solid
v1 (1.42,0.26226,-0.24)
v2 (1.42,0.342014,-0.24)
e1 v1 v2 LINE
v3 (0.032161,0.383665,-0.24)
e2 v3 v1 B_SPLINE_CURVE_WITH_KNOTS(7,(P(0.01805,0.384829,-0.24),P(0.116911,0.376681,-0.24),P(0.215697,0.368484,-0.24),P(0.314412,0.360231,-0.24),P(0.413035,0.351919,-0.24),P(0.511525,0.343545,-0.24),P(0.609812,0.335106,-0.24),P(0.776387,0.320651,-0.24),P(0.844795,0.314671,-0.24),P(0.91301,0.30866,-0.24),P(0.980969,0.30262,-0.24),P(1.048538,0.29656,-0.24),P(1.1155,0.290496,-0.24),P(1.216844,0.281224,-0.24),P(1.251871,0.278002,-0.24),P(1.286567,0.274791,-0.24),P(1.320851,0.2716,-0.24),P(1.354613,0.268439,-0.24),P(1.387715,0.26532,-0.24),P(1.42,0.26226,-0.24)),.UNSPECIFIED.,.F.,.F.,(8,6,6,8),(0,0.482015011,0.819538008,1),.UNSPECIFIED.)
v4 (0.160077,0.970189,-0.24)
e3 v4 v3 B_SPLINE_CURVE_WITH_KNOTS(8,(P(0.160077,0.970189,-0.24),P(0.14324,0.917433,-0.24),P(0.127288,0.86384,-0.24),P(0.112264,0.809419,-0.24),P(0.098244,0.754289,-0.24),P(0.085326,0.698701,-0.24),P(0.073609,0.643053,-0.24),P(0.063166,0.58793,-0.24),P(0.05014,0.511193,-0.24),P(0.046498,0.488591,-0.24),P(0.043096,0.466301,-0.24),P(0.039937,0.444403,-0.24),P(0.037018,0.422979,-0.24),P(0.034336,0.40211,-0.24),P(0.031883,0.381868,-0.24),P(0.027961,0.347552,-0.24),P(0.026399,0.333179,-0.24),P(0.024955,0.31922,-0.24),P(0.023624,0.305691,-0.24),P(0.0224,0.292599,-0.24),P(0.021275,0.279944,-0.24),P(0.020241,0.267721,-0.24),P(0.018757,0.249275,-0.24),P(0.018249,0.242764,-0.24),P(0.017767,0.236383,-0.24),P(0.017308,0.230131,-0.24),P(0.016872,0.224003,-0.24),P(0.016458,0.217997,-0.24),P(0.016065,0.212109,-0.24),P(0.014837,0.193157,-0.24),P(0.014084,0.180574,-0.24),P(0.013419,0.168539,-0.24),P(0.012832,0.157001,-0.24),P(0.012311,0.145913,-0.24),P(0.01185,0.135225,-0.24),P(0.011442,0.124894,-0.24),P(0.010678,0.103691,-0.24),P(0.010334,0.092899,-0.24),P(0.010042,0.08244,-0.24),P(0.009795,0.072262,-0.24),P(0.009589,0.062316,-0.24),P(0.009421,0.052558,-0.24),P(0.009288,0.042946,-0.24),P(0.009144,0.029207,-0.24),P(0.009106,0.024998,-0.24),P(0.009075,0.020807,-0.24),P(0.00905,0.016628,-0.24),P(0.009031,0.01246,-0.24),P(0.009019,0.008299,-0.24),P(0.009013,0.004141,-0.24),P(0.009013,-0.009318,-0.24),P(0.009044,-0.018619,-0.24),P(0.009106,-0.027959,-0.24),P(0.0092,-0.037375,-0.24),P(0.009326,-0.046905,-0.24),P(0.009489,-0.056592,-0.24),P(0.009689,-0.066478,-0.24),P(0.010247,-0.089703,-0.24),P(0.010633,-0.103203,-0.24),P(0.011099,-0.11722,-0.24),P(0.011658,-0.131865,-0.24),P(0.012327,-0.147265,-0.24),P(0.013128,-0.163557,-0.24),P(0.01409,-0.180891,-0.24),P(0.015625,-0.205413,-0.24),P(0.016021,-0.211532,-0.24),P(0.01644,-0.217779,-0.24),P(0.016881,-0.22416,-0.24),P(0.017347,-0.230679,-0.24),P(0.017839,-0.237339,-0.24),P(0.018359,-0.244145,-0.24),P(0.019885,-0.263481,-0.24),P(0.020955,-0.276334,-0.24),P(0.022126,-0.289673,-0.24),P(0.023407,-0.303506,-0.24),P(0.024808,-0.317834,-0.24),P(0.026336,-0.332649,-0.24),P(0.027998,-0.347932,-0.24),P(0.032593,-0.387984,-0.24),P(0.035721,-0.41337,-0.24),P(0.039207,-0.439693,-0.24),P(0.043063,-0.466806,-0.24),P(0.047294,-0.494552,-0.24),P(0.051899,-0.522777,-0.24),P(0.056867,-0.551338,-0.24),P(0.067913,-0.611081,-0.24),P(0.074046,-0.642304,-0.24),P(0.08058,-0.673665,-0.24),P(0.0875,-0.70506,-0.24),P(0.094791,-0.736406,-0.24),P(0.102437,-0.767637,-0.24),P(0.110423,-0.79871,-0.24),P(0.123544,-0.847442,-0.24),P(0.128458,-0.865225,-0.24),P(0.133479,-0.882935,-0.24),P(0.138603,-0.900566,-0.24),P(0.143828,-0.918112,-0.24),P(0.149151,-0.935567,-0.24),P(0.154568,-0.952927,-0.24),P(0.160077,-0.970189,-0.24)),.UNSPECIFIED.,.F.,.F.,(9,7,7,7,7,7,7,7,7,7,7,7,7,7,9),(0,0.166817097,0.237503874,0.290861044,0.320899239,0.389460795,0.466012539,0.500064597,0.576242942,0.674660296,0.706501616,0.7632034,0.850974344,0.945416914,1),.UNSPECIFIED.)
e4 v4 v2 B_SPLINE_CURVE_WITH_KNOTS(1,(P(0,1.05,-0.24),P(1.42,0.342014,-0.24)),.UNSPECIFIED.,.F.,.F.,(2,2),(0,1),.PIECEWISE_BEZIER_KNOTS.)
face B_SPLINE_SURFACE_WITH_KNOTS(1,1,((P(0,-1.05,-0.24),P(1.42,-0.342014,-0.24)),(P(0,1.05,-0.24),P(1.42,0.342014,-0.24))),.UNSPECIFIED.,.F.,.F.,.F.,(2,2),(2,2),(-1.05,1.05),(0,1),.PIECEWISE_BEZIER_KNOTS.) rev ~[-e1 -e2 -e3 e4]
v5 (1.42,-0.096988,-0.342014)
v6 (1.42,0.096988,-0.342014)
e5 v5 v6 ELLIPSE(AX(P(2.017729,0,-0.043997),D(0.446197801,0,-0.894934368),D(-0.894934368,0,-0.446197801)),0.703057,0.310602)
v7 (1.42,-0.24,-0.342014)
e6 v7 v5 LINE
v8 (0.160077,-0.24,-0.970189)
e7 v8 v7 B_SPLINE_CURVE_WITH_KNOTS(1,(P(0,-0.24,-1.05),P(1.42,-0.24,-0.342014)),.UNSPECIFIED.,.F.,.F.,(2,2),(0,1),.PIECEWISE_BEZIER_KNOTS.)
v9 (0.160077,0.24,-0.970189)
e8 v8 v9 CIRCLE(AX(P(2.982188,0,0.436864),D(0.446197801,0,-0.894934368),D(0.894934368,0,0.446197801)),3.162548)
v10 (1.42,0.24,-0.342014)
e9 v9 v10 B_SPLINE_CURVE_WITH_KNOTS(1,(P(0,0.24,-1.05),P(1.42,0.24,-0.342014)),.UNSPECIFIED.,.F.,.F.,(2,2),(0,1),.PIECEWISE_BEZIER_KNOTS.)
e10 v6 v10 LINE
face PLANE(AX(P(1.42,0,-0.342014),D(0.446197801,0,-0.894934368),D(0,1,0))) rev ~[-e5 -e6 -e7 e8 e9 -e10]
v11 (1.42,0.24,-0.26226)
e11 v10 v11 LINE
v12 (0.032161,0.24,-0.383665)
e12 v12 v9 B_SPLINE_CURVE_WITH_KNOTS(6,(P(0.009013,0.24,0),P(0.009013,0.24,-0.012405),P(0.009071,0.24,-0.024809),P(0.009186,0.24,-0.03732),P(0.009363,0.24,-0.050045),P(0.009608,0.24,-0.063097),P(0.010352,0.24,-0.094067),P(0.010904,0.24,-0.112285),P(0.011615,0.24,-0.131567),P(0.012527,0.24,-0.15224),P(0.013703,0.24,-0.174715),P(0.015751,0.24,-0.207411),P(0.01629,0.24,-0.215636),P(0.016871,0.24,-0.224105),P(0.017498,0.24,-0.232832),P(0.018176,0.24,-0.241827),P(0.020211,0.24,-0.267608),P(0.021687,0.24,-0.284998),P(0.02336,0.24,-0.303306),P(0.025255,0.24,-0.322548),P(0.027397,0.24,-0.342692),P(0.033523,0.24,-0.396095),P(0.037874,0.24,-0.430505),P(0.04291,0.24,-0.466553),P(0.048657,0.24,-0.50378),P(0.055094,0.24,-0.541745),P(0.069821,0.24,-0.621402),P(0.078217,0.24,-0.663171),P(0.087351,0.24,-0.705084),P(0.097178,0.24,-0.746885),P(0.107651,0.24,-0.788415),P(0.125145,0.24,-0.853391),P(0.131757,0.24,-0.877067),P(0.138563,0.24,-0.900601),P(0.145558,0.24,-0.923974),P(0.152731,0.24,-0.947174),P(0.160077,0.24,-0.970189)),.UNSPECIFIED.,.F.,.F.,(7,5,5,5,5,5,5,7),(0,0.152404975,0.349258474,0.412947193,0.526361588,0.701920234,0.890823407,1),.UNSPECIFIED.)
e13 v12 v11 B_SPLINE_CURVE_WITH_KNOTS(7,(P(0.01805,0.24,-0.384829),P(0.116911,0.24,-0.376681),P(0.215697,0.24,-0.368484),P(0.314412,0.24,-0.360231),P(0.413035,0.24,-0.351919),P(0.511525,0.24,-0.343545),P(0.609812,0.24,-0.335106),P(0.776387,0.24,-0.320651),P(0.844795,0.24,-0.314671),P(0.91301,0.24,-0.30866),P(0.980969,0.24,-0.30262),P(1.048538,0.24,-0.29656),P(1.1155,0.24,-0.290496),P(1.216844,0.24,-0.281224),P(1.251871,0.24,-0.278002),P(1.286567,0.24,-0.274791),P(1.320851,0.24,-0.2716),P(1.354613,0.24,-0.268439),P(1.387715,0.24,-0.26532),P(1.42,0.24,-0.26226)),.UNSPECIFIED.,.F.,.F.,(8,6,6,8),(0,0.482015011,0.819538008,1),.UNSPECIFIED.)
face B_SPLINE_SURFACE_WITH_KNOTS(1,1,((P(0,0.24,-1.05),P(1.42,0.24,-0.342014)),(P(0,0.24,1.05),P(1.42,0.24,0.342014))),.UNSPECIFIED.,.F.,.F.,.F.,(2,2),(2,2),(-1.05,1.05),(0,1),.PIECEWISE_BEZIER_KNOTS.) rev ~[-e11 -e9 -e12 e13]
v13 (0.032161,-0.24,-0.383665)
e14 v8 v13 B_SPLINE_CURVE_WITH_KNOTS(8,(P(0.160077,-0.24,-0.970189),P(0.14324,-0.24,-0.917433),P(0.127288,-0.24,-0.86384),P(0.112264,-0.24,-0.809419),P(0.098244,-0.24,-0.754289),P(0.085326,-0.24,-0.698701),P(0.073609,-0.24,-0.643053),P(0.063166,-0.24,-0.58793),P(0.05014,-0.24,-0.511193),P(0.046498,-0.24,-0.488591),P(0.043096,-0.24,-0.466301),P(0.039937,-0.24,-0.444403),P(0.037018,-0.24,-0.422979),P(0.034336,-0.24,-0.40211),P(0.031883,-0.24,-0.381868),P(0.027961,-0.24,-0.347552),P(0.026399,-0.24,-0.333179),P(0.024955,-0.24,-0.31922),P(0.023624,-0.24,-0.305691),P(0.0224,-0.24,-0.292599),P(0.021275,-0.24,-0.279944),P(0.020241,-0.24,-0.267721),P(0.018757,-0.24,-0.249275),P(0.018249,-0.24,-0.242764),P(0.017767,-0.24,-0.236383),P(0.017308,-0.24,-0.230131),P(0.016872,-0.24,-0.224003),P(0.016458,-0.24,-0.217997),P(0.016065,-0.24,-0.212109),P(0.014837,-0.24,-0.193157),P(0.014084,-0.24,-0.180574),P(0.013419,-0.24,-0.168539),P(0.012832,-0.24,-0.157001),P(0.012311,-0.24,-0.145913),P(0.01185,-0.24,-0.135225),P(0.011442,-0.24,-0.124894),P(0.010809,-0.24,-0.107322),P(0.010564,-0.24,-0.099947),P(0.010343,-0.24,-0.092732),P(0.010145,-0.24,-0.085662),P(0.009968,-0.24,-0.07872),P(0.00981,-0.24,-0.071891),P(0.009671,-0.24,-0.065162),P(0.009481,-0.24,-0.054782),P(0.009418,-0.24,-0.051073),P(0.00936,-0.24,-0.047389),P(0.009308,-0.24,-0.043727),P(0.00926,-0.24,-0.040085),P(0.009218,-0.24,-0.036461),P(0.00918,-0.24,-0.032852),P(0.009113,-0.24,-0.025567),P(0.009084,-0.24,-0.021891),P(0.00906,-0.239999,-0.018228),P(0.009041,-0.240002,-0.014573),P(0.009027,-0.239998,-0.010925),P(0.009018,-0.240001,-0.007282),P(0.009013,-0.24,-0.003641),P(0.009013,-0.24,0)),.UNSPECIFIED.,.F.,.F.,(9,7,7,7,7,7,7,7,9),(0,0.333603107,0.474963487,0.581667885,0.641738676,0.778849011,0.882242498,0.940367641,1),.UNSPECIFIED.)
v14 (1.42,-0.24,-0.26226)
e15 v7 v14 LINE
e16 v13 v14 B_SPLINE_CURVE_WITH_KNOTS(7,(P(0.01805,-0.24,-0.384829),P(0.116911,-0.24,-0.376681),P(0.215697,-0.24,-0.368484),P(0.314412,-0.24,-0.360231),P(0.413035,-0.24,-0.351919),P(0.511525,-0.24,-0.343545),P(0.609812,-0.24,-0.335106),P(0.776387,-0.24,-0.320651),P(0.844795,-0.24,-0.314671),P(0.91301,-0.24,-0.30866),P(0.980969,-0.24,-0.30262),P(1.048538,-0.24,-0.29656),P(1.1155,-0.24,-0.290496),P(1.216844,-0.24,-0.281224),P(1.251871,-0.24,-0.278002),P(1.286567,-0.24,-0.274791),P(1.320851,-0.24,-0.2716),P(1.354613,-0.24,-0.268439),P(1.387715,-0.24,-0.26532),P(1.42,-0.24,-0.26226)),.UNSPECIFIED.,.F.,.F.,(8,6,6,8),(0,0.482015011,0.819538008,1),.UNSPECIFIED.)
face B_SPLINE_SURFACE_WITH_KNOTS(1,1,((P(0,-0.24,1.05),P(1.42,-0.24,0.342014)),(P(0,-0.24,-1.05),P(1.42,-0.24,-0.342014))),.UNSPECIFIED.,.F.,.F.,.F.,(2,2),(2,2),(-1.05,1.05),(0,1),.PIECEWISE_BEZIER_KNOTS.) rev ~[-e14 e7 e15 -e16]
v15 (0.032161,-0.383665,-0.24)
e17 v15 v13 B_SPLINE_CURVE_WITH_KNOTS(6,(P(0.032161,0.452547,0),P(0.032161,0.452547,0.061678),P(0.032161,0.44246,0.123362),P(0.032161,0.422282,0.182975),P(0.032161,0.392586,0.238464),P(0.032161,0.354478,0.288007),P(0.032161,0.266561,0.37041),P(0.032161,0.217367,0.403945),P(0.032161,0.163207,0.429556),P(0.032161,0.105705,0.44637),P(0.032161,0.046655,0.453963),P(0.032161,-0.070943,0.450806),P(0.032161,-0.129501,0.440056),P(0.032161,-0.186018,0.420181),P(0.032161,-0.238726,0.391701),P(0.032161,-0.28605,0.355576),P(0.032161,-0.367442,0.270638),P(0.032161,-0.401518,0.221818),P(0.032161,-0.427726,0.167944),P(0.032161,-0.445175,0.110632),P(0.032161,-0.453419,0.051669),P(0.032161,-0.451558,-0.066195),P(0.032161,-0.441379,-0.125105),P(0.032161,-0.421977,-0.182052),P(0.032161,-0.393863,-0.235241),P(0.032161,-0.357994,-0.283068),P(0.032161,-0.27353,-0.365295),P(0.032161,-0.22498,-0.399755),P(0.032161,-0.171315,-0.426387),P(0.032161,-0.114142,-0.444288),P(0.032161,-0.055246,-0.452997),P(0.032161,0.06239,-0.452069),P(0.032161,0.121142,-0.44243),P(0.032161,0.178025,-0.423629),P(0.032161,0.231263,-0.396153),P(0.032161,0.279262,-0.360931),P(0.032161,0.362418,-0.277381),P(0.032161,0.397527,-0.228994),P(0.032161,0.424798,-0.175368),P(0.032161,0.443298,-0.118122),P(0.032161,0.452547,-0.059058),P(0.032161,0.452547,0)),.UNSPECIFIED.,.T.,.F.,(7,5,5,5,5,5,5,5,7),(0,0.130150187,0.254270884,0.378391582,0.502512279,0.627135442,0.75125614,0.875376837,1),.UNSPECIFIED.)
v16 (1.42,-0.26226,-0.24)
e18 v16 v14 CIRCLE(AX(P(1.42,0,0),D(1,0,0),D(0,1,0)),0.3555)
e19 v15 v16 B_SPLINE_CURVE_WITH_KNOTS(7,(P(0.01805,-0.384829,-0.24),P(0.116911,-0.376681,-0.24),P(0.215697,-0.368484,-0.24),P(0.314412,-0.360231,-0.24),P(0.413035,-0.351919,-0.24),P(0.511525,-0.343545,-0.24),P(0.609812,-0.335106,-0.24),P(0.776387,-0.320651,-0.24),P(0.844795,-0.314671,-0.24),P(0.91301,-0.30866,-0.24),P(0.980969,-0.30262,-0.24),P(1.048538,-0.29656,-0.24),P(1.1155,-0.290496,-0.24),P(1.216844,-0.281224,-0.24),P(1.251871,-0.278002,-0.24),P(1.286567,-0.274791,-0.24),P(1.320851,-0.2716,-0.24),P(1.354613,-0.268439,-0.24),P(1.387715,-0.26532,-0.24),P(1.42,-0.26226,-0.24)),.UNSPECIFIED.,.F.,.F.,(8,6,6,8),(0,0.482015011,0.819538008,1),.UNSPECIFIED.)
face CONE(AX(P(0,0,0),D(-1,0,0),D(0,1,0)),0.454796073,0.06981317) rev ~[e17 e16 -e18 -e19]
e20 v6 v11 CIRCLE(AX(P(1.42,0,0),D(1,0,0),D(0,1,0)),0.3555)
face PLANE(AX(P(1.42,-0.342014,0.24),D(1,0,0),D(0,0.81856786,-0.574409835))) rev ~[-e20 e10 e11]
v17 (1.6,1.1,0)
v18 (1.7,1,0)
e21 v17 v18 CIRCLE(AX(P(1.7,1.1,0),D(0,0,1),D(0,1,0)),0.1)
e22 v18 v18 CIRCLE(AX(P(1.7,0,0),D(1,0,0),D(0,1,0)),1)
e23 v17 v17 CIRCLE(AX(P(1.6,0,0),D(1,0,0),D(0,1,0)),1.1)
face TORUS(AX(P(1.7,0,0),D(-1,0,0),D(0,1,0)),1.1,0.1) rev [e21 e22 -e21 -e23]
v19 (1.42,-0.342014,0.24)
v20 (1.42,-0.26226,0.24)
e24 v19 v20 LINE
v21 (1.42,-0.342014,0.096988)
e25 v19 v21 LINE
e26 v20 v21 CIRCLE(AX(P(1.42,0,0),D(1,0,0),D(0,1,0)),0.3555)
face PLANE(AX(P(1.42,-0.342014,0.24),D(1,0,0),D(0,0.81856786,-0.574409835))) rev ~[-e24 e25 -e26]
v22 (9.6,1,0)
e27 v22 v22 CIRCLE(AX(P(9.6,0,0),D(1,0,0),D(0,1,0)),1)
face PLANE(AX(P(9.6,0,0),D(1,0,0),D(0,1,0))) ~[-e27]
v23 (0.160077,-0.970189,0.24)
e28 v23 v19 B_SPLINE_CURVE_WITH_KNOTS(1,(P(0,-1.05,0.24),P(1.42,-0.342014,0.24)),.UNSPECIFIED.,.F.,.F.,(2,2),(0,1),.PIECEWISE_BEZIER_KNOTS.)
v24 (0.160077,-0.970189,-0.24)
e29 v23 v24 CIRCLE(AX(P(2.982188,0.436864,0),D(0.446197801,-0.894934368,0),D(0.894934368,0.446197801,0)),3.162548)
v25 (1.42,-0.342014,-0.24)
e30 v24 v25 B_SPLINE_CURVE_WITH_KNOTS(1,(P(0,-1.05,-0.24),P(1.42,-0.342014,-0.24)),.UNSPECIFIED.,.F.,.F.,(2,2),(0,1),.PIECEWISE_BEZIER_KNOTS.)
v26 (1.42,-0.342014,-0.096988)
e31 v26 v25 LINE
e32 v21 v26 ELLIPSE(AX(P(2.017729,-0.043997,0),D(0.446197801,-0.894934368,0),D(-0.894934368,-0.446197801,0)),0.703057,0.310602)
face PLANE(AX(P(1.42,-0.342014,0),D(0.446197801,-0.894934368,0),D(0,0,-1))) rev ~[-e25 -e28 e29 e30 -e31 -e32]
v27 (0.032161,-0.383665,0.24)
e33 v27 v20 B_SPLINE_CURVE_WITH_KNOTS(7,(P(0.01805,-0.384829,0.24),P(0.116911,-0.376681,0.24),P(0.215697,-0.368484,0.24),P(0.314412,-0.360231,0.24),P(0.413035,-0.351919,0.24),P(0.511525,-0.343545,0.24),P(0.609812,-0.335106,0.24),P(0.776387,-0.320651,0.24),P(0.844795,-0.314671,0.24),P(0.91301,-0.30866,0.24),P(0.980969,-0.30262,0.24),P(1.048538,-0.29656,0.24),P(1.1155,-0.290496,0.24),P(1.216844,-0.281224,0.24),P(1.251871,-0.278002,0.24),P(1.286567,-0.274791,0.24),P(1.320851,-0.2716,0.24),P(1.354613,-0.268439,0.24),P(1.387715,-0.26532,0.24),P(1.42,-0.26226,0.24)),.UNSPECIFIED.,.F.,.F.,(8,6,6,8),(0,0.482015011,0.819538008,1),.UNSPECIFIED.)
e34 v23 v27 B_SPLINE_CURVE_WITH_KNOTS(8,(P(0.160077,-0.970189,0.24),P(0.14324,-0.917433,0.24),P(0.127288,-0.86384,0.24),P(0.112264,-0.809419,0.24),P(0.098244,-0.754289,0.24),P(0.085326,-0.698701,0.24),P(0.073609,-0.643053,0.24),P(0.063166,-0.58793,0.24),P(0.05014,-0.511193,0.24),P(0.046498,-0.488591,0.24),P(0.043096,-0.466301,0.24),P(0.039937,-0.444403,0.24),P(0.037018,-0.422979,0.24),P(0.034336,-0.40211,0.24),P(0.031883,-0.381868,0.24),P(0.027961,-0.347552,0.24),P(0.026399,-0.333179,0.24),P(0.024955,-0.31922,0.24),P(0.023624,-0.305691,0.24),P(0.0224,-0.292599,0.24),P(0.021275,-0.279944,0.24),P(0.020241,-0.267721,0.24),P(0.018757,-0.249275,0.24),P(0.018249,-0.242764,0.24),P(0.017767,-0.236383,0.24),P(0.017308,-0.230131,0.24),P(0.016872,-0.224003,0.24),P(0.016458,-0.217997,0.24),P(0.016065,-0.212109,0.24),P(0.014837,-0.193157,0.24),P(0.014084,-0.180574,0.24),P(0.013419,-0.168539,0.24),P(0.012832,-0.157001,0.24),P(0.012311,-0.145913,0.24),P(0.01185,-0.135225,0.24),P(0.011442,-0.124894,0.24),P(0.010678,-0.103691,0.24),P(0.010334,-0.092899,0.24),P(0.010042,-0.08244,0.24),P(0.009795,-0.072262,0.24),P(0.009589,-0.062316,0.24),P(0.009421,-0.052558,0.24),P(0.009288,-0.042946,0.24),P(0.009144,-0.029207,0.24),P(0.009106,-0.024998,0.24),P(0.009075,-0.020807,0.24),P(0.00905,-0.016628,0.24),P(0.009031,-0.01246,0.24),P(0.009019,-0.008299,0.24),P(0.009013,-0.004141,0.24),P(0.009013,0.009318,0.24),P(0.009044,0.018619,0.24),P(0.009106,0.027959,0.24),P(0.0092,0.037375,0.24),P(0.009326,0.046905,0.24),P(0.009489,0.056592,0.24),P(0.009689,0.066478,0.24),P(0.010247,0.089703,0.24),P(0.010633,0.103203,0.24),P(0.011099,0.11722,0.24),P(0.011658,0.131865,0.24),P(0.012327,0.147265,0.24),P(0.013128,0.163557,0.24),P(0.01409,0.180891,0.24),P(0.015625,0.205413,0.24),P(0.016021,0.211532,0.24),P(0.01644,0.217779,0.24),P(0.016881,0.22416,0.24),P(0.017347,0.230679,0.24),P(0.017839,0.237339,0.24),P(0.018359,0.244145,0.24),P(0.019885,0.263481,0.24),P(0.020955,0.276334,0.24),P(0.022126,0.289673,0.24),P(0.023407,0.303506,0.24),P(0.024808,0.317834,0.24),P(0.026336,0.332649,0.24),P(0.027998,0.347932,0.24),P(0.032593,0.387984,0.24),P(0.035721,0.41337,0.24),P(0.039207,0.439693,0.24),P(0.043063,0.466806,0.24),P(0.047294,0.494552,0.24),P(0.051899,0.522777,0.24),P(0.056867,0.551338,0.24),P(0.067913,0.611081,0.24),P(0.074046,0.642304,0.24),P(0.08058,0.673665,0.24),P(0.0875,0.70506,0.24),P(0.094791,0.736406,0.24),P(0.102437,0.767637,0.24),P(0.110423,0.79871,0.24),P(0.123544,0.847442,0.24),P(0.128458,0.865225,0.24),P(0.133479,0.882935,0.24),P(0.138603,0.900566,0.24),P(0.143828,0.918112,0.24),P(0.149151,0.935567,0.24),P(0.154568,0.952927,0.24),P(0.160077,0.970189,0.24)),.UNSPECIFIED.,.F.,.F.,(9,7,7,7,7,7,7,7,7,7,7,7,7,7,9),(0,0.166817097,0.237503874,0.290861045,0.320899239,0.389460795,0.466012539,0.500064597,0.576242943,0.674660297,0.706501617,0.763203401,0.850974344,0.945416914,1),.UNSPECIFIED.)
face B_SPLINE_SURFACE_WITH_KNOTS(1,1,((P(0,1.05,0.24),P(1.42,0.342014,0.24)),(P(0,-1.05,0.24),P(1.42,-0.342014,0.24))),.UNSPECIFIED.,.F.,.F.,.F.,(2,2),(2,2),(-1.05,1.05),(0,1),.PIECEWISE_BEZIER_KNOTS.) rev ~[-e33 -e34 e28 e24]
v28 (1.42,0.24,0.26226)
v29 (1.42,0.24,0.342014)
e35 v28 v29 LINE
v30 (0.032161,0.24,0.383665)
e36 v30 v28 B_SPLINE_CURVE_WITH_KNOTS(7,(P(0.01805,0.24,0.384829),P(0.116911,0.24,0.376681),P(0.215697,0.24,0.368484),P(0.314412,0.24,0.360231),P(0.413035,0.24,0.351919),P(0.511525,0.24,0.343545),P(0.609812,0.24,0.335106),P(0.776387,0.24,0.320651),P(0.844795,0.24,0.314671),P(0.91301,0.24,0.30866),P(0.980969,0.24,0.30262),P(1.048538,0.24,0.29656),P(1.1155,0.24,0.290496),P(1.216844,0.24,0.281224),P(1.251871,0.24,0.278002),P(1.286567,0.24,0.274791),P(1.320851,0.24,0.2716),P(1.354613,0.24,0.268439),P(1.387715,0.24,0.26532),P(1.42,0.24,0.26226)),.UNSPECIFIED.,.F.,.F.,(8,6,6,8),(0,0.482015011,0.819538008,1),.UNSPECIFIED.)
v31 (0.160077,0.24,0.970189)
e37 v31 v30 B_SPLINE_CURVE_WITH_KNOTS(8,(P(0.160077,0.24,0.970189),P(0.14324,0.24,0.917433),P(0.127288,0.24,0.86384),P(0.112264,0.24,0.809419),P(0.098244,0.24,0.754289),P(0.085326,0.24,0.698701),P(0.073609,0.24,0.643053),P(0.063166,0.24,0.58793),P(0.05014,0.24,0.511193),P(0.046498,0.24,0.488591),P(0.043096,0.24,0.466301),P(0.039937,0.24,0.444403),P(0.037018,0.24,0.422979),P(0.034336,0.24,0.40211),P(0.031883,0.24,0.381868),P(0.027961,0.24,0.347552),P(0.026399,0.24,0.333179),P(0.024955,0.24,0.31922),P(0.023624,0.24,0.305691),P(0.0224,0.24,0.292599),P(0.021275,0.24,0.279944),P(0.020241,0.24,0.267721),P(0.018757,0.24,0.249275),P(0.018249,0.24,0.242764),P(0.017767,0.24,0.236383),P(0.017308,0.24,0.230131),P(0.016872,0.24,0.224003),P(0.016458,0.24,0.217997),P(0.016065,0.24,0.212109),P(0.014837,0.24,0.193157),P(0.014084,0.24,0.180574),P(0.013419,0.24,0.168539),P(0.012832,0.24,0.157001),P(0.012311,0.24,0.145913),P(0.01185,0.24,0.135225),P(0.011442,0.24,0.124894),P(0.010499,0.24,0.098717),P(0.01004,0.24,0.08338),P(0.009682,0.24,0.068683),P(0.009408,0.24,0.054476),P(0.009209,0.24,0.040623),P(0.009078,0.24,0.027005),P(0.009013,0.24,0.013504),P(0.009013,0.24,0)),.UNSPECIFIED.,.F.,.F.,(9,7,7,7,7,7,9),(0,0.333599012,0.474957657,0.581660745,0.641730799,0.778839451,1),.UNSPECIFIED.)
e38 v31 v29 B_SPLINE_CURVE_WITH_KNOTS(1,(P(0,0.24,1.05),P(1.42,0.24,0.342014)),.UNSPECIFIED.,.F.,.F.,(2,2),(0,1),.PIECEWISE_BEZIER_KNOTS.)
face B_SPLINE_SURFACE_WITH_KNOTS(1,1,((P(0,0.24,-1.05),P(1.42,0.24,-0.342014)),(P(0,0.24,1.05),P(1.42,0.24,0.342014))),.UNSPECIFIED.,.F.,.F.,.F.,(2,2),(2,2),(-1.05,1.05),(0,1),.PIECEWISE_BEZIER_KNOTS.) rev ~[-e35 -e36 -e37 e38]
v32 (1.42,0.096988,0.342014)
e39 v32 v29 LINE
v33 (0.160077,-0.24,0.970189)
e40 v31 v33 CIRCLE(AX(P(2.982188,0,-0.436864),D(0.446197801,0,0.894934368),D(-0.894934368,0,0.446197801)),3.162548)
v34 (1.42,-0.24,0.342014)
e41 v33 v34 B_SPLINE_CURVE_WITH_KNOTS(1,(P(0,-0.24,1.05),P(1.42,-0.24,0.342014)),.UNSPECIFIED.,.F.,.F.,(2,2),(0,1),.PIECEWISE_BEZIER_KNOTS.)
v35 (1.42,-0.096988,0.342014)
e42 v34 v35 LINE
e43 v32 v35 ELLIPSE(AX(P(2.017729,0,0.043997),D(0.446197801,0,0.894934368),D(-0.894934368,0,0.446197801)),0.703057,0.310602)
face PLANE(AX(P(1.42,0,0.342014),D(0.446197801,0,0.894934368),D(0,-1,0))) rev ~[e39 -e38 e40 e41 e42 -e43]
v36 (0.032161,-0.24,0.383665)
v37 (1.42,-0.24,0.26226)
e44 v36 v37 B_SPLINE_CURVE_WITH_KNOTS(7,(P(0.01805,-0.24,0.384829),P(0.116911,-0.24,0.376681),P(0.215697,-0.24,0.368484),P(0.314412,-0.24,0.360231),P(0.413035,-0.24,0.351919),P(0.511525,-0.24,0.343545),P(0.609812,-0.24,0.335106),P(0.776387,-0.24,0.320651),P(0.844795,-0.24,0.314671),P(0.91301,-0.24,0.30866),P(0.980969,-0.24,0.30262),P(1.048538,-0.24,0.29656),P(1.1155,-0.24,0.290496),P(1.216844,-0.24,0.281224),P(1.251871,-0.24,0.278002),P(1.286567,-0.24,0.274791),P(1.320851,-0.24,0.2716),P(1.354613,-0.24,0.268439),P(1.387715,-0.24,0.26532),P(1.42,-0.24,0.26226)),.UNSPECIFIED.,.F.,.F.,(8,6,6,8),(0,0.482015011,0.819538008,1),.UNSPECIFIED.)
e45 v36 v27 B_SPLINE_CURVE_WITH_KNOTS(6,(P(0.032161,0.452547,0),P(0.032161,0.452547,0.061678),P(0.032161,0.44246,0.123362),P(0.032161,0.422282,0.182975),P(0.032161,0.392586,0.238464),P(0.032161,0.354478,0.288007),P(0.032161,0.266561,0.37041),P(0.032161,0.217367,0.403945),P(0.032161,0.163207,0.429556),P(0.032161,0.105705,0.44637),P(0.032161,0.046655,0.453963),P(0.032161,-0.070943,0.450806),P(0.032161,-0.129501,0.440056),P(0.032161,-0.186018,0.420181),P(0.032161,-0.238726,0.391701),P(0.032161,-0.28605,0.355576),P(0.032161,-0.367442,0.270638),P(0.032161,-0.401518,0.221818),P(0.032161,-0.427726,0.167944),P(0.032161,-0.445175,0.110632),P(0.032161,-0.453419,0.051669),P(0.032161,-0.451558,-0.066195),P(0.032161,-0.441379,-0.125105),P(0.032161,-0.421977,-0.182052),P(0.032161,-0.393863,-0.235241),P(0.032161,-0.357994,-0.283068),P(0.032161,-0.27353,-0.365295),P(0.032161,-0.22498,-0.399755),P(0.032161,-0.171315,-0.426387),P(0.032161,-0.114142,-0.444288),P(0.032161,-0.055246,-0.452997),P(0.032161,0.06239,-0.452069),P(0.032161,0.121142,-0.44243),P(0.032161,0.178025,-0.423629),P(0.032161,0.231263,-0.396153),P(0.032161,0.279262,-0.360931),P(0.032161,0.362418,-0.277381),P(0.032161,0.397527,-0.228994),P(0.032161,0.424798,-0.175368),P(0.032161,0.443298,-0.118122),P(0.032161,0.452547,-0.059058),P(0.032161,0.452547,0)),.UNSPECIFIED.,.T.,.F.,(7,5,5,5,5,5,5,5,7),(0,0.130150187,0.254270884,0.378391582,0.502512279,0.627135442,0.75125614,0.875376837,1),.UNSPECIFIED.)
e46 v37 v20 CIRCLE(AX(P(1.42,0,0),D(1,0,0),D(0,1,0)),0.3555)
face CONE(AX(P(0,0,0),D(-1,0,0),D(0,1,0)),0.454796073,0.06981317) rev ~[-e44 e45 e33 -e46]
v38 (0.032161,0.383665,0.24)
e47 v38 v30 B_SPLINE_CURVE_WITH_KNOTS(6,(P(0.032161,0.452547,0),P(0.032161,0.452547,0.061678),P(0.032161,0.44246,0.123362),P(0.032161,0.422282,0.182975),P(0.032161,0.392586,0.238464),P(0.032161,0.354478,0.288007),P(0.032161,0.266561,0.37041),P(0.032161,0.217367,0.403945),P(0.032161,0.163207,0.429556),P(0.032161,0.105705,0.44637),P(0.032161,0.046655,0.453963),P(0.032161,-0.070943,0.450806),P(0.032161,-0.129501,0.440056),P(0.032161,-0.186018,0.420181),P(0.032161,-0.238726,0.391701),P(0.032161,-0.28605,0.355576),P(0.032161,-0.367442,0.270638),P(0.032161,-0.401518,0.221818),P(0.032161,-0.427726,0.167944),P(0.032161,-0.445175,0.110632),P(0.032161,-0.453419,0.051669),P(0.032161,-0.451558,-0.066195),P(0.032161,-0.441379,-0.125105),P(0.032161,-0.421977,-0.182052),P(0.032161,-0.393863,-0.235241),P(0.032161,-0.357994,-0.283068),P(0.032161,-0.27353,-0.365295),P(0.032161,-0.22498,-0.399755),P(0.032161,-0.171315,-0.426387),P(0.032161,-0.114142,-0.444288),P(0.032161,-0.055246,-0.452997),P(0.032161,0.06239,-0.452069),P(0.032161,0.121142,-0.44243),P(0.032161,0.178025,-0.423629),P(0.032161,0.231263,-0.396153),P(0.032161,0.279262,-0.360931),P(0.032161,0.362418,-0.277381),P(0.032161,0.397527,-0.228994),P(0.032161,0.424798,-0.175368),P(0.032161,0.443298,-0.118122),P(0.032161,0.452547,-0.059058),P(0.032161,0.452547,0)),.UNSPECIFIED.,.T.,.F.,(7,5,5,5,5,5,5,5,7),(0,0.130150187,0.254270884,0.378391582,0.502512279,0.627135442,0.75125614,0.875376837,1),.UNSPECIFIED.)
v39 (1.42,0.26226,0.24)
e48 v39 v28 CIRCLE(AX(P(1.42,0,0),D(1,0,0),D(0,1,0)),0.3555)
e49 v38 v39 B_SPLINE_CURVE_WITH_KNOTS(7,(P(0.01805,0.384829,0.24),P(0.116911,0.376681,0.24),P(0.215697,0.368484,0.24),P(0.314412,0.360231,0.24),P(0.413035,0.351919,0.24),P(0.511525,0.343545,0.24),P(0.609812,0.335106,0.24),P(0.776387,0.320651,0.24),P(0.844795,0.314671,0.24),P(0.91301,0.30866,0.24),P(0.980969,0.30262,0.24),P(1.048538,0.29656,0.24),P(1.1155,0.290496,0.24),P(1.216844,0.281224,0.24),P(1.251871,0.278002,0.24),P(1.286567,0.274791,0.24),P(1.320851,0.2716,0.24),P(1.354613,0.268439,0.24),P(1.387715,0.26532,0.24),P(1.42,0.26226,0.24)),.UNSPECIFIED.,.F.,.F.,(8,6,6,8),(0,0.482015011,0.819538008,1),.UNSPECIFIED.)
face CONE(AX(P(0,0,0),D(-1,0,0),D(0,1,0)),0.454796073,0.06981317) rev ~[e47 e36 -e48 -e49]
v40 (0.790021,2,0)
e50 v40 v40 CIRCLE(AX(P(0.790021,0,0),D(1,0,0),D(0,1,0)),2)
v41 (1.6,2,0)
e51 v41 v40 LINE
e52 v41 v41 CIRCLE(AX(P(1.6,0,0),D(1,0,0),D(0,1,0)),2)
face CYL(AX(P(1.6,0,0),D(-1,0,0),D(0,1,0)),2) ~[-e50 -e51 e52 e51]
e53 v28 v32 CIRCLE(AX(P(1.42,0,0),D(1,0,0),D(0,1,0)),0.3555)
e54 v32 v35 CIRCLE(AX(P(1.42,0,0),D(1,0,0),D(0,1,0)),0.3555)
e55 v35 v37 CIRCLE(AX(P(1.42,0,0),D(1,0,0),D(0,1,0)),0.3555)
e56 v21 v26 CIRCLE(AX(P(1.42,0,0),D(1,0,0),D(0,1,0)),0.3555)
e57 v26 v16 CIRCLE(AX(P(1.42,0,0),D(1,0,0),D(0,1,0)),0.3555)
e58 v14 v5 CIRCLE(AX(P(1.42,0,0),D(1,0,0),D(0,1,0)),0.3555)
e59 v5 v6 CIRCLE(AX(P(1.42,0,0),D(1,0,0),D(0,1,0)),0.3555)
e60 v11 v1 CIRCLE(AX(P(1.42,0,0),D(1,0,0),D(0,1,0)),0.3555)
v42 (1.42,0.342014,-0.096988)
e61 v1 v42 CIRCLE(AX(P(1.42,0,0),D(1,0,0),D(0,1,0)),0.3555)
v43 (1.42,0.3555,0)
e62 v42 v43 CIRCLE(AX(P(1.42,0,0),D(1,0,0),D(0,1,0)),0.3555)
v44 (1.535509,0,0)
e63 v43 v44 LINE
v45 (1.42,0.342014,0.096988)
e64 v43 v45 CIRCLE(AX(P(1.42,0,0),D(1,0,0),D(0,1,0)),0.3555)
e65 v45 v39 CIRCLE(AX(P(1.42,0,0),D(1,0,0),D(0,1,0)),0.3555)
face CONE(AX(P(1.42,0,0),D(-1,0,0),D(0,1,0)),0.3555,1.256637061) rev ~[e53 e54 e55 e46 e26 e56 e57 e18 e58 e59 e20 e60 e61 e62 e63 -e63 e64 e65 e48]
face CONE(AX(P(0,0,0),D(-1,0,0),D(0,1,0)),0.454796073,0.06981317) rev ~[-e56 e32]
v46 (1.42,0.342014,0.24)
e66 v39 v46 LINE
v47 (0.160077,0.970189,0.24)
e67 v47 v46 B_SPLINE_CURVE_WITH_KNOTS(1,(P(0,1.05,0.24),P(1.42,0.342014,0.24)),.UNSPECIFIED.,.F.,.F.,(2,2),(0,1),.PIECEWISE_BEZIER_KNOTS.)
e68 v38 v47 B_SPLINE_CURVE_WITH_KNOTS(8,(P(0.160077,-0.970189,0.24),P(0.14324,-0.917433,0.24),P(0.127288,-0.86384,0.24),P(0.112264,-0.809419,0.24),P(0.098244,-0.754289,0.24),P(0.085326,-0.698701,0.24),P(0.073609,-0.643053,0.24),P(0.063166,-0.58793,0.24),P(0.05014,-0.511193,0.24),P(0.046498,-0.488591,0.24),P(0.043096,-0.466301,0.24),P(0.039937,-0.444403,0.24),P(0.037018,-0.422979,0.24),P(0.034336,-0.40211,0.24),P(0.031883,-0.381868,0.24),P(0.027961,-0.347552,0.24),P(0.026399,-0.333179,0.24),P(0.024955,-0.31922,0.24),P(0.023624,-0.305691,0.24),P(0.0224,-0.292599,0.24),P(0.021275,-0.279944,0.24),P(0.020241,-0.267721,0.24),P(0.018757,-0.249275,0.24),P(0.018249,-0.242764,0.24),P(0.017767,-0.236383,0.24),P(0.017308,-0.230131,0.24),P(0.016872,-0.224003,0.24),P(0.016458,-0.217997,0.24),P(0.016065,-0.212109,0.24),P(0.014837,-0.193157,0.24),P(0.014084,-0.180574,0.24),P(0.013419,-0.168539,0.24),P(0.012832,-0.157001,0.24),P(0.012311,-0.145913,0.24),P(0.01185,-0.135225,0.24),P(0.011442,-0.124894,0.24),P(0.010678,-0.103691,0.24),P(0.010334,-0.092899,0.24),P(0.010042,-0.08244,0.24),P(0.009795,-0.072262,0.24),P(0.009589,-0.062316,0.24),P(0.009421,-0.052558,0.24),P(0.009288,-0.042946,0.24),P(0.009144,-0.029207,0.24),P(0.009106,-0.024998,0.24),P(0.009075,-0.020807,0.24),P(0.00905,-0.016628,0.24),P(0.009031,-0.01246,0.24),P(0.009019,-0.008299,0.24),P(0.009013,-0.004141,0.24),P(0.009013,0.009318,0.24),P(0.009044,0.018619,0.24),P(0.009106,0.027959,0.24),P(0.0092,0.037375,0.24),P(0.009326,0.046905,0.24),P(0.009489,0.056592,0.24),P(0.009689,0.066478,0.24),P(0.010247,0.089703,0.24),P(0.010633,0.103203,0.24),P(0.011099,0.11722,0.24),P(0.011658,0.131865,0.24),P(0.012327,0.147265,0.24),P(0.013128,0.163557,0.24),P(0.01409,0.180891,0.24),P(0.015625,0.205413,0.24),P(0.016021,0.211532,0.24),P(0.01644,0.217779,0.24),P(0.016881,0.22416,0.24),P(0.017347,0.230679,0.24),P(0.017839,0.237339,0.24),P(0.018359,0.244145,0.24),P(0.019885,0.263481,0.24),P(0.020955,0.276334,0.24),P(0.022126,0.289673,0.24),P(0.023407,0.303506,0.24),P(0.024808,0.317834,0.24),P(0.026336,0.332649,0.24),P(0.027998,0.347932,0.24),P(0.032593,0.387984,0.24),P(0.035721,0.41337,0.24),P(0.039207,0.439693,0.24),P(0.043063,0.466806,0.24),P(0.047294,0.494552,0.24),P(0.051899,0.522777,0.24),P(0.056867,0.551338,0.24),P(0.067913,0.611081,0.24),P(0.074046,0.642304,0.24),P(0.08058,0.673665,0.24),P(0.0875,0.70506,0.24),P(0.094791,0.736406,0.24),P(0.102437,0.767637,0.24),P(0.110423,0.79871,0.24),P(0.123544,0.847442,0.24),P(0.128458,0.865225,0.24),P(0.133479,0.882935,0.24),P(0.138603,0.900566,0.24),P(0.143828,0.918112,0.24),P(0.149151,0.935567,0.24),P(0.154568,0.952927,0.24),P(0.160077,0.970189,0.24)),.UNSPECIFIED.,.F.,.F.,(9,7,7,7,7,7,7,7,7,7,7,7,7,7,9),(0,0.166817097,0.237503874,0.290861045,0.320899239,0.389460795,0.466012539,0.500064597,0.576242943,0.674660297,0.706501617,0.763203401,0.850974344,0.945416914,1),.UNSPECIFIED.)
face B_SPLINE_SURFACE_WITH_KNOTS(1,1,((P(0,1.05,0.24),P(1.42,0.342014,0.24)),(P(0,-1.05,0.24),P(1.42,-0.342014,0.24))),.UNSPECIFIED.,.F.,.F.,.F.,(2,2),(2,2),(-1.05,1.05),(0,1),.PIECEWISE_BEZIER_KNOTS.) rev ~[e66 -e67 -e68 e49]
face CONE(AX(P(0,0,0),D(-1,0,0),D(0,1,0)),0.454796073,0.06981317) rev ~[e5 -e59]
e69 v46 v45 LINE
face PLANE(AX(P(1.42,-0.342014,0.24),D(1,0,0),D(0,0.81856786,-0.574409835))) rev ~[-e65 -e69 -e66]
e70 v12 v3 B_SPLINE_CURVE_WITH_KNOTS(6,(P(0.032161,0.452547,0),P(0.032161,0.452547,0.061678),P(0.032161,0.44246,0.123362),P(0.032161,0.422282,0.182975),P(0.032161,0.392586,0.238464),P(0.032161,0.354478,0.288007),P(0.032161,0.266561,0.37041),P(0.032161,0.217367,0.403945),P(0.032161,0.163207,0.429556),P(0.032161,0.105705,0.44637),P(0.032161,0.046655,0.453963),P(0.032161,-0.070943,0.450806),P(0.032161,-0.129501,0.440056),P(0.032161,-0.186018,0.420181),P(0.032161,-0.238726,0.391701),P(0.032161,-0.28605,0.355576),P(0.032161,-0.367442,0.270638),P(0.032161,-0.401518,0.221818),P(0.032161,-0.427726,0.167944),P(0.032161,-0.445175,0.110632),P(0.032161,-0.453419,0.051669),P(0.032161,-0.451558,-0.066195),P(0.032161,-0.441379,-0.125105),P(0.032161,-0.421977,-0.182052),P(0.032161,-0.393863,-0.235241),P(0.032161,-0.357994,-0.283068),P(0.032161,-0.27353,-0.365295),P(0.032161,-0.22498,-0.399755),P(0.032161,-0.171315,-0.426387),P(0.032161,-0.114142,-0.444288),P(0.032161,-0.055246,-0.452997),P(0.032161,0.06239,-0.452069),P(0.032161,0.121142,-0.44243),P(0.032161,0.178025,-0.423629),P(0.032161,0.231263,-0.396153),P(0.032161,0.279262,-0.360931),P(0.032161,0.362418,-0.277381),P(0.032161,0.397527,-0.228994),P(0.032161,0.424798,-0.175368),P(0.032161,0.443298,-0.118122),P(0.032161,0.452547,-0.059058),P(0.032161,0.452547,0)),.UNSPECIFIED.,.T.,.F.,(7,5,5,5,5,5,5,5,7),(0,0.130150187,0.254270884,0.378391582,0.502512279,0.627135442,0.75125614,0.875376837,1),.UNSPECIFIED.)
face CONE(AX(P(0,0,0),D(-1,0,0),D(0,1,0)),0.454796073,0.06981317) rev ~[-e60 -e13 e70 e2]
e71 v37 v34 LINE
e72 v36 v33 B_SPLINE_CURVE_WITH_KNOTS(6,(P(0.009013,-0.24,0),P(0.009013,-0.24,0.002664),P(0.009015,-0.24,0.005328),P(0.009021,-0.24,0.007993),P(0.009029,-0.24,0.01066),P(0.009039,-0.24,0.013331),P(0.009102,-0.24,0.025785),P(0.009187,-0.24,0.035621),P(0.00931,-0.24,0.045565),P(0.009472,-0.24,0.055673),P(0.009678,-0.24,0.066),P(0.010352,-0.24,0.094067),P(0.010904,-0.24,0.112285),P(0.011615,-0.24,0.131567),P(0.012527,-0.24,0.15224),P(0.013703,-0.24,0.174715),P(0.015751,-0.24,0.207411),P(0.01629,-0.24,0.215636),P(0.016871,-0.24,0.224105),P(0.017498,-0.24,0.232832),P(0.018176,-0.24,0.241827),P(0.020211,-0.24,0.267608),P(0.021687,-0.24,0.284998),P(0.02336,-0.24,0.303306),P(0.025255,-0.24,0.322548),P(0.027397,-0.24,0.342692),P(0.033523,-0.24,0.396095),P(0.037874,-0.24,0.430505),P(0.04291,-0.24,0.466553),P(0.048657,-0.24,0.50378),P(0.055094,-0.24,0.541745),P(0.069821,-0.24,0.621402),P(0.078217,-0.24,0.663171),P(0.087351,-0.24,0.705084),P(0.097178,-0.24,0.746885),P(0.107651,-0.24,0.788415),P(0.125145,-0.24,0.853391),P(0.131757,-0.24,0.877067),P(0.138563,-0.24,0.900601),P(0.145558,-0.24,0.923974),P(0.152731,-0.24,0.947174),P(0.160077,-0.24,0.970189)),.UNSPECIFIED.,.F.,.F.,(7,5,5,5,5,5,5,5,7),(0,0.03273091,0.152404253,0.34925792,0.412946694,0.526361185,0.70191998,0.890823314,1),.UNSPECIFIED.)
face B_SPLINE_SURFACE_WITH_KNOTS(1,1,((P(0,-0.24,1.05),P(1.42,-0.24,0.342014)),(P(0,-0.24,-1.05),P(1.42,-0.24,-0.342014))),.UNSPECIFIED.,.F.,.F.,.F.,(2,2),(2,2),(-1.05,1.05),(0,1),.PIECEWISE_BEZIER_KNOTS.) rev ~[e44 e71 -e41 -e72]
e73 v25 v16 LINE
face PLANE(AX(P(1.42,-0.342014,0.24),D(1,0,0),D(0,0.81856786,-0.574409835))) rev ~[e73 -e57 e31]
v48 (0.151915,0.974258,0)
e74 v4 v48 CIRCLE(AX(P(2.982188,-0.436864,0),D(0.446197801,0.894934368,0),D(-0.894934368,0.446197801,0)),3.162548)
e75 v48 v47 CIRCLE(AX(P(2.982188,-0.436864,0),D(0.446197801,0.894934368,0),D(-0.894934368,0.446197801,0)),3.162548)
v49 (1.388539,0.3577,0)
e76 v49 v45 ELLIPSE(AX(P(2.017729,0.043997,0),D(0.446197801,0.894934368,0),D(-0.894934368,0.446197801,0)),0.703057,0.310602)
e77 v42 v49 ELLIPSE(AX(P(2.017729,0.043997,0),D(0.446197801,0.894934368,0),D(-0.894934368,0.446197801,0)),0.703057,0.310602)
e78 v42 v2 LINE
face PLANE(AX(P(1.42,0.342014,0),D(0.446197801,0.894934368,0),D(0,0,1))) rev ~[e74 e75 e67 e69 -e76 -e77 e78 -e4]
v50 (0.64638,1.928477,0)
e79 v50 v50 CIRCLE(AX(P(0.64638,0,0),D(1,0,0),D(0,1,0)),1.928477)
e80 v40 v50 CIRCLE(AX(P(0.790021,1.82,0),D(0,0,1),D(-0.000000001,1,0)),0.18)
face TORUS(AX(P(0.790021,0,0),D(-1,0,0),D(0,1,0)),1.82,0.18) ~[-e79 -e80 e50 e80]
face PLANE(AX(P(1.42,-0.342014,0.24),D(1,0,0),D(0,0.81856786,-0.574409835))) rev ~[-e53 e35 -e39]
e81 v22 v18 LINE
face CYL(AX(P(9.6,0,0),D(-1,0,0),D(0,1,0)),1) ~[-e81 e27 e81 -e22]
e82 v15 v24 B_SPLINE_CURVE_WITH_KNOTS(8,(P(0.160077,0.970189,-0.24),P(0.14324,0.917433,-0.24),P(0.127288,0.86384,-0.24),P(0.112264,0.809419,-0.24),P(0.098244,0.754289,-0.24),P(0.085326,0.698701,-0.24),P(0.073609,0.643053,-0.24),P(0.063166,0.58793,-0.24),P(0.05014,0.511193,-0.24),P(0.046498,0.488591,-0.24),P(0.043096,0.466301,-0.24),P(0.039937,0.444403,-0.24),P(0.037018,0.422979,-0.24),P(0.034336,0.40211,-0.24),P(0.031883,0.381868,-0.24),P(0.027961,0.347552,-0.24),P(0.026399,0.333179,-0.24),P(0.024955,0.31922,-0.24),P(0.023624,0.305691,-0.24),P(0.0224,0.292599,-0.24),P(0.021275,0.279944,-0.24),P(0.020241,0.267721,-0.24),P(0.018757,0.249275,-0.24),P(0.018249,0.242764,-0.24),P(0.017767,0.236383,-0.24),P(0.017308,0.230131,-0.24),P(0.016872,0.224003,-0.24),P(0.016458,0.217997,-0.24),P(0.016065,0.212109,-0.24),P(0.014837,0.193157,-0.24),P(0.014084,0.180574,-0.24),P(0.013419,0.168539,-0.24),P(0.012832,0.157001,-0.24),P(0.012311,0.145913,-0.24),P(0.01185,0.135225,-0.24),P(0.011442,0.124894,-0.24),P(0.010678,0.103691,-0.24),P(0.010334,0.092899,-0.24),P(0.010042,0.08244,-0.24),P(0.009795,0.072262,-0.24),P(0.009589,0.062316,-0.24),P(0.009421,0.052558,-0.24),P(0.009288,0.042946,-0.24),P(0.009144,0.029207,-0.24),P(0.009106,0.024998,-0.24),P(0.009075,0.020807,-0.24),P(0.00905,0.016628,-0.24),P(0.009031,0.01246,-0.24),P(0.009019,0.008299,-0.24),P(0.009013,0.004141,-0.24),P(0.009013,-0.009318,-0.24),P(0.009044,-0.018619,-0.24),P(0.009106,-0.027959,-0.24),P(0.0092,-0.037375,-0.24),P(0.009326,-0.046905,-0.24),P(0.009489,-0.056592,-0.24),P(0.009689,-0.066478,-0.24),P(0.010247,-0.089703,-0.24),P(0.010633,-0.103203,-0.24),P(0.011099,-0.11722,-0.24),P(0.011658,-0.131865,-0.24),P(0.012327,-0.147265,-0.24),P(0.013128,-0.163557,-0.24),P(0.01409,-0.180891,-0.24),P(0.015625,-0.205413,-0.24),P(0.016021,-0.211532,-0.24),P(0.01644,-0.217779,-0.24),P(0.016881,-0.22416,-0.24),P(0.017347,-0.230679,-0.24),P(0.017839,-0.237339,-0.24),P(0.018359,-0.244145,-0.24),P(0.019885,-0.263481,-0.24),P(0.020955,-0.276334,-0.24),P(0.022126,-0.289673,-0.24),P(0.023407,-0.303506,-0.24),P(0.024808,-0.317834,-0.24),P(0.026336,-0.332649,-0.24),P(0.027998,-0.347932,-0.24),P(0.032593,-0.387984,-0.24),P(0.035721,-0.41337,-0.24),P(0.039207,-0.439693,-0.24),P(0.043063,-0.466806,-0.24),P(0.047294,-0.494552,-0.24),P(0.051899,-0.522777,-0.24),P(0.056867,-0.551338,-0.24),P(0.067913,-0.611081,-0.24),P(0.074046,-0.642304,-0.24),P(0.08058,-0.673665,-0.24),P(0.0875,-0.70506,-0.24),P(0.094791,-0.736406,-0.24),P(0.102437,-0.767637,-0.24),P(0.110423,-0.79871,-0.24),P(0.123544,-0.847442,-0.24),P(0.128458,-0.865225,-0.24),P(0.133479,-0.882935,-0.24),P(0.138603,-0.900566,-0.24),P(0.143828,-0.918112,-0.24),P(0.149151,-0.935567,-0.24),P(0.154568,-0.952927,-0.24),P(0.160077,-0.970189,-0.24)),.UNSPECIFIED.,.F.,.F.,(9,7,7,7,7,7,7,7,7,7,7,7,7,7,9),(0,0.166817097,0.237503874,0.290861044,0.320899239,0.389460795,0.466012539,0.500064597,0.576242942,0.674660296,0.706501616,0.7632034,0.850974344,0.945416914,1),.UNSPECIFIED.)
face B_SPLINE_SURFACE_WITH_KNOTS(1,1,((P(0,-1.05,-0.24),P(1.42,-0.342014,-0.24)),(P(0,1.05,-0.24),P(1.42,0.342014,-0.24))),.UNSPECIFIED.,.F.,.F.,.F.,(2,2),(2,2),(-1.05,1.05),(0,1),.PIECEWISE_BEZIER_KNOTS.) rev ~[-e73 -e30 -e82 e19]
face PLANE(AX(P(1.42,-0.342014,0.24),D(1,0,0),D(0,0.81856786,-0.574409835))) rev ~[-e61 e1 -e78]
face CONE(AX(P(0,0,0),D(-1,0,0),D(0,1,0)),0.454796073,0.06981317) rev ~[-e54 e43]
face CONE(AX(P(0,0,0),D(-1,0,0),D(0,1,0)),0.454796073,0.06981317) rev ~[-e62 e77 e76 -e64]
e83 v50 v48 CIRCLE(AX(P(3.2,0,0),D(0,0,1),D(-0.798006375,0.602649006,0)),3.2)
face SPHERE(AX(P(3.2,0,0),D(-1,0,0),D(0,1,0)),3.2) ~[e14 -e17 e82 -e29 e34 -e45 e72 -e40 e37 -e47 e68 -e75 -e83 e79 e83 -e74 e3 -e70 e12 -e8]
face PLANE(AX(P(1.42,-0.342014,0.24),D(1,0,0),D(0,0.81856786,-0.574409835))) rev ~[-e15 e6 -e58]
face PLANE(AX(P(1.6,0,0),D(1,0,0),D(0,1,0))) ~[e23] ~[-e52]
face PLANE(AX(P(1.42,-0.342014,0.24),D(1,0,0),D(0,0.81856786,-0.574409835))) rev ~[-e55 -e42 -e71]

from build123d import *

# Parameters (mm, degrees)
FILLET1_R    = 0.1
SKETCH3_W    = 0.48
SKETCH3_H    = 2.1
SKETCH4_W    = 0.48
SKETCH4_H    = 0.684028282
RECPAT_COUNT = 2
RECPAT_ANGLE = 90


with BuildPart() as part:
    # BodySke → Base-Revolve (revolve)
    with BuildSketch(Plane.XY):
        with BuildLine():
            Line((1.6, 1), (1.6, 2))
            Line((1.6, 2), (0.790020747, 2))
            ThreePointArc((0.790020747, 2), (0.709789294, 1.981130115), (0.646379599, 1.928476821))
            ThreePointArc((0.646379599, 1.928476821), (0.165895084, 1.016959861), (0, 0))
            Line((0, 0), (9.6, 0))
            Line((9.6, 0), (9.6, 1))
            Line((9.6, 1), (1.6, 1))
        make_face()
    revolve(axis=Axis((-25.4, 0, 0), (1, 0, 0)))

    # Fillet1
    fillet1_edges = [part.edges().sort_by_distance(p)[0] for p in [
        (1.6, -1, 0),
    ]]
    fillet(fillet1_edges, radius=FILLET1_R)

    # Sketch3 → Recess section 0
    with BuildSketch(Plane(origin=(0, 0, 0), x_dir=(0, 0, -1), z_dir=(1, 0, 0))):
        Rectangle(SKETCH3_W, SKETCH3_H)
    # Sketch4 → Recess section 1
    with BuildSketch(Plane(origin=(1.42, 0, 0), x_dir=(0, 0, -1), z_dir=(1, 0, 0))):
        Rectangle(SKETCH4_W, SKETCH4_H)
    recess = loft(mode=Mode.SUBTRACT)

    # RecPat: Recess ×2 about axis
    recpat_axis = Axis((0, 0, 0), (1, 0, 0))
    for i in range(1, RECPAT_COUNT):
        add(recess.rotate(recpat_axis, i * RECPAT_ANGLE / (RECPAT_COUNT - 1)), mode=Mode.SUBTRACT)

    # RecCorSke → RecessCore (revolve, cut)
    with BuildSketch(Plane.XY):
        Polygon((0, 0), (0, 0.454796073), (1.42, 0.3555), (1.535508952, 0), align=None)
    revolve(axis=Axis((-3.175, 0, 0), (1, 0, 0)), mode=Mode.SUBTRACT)


solid = part.part
